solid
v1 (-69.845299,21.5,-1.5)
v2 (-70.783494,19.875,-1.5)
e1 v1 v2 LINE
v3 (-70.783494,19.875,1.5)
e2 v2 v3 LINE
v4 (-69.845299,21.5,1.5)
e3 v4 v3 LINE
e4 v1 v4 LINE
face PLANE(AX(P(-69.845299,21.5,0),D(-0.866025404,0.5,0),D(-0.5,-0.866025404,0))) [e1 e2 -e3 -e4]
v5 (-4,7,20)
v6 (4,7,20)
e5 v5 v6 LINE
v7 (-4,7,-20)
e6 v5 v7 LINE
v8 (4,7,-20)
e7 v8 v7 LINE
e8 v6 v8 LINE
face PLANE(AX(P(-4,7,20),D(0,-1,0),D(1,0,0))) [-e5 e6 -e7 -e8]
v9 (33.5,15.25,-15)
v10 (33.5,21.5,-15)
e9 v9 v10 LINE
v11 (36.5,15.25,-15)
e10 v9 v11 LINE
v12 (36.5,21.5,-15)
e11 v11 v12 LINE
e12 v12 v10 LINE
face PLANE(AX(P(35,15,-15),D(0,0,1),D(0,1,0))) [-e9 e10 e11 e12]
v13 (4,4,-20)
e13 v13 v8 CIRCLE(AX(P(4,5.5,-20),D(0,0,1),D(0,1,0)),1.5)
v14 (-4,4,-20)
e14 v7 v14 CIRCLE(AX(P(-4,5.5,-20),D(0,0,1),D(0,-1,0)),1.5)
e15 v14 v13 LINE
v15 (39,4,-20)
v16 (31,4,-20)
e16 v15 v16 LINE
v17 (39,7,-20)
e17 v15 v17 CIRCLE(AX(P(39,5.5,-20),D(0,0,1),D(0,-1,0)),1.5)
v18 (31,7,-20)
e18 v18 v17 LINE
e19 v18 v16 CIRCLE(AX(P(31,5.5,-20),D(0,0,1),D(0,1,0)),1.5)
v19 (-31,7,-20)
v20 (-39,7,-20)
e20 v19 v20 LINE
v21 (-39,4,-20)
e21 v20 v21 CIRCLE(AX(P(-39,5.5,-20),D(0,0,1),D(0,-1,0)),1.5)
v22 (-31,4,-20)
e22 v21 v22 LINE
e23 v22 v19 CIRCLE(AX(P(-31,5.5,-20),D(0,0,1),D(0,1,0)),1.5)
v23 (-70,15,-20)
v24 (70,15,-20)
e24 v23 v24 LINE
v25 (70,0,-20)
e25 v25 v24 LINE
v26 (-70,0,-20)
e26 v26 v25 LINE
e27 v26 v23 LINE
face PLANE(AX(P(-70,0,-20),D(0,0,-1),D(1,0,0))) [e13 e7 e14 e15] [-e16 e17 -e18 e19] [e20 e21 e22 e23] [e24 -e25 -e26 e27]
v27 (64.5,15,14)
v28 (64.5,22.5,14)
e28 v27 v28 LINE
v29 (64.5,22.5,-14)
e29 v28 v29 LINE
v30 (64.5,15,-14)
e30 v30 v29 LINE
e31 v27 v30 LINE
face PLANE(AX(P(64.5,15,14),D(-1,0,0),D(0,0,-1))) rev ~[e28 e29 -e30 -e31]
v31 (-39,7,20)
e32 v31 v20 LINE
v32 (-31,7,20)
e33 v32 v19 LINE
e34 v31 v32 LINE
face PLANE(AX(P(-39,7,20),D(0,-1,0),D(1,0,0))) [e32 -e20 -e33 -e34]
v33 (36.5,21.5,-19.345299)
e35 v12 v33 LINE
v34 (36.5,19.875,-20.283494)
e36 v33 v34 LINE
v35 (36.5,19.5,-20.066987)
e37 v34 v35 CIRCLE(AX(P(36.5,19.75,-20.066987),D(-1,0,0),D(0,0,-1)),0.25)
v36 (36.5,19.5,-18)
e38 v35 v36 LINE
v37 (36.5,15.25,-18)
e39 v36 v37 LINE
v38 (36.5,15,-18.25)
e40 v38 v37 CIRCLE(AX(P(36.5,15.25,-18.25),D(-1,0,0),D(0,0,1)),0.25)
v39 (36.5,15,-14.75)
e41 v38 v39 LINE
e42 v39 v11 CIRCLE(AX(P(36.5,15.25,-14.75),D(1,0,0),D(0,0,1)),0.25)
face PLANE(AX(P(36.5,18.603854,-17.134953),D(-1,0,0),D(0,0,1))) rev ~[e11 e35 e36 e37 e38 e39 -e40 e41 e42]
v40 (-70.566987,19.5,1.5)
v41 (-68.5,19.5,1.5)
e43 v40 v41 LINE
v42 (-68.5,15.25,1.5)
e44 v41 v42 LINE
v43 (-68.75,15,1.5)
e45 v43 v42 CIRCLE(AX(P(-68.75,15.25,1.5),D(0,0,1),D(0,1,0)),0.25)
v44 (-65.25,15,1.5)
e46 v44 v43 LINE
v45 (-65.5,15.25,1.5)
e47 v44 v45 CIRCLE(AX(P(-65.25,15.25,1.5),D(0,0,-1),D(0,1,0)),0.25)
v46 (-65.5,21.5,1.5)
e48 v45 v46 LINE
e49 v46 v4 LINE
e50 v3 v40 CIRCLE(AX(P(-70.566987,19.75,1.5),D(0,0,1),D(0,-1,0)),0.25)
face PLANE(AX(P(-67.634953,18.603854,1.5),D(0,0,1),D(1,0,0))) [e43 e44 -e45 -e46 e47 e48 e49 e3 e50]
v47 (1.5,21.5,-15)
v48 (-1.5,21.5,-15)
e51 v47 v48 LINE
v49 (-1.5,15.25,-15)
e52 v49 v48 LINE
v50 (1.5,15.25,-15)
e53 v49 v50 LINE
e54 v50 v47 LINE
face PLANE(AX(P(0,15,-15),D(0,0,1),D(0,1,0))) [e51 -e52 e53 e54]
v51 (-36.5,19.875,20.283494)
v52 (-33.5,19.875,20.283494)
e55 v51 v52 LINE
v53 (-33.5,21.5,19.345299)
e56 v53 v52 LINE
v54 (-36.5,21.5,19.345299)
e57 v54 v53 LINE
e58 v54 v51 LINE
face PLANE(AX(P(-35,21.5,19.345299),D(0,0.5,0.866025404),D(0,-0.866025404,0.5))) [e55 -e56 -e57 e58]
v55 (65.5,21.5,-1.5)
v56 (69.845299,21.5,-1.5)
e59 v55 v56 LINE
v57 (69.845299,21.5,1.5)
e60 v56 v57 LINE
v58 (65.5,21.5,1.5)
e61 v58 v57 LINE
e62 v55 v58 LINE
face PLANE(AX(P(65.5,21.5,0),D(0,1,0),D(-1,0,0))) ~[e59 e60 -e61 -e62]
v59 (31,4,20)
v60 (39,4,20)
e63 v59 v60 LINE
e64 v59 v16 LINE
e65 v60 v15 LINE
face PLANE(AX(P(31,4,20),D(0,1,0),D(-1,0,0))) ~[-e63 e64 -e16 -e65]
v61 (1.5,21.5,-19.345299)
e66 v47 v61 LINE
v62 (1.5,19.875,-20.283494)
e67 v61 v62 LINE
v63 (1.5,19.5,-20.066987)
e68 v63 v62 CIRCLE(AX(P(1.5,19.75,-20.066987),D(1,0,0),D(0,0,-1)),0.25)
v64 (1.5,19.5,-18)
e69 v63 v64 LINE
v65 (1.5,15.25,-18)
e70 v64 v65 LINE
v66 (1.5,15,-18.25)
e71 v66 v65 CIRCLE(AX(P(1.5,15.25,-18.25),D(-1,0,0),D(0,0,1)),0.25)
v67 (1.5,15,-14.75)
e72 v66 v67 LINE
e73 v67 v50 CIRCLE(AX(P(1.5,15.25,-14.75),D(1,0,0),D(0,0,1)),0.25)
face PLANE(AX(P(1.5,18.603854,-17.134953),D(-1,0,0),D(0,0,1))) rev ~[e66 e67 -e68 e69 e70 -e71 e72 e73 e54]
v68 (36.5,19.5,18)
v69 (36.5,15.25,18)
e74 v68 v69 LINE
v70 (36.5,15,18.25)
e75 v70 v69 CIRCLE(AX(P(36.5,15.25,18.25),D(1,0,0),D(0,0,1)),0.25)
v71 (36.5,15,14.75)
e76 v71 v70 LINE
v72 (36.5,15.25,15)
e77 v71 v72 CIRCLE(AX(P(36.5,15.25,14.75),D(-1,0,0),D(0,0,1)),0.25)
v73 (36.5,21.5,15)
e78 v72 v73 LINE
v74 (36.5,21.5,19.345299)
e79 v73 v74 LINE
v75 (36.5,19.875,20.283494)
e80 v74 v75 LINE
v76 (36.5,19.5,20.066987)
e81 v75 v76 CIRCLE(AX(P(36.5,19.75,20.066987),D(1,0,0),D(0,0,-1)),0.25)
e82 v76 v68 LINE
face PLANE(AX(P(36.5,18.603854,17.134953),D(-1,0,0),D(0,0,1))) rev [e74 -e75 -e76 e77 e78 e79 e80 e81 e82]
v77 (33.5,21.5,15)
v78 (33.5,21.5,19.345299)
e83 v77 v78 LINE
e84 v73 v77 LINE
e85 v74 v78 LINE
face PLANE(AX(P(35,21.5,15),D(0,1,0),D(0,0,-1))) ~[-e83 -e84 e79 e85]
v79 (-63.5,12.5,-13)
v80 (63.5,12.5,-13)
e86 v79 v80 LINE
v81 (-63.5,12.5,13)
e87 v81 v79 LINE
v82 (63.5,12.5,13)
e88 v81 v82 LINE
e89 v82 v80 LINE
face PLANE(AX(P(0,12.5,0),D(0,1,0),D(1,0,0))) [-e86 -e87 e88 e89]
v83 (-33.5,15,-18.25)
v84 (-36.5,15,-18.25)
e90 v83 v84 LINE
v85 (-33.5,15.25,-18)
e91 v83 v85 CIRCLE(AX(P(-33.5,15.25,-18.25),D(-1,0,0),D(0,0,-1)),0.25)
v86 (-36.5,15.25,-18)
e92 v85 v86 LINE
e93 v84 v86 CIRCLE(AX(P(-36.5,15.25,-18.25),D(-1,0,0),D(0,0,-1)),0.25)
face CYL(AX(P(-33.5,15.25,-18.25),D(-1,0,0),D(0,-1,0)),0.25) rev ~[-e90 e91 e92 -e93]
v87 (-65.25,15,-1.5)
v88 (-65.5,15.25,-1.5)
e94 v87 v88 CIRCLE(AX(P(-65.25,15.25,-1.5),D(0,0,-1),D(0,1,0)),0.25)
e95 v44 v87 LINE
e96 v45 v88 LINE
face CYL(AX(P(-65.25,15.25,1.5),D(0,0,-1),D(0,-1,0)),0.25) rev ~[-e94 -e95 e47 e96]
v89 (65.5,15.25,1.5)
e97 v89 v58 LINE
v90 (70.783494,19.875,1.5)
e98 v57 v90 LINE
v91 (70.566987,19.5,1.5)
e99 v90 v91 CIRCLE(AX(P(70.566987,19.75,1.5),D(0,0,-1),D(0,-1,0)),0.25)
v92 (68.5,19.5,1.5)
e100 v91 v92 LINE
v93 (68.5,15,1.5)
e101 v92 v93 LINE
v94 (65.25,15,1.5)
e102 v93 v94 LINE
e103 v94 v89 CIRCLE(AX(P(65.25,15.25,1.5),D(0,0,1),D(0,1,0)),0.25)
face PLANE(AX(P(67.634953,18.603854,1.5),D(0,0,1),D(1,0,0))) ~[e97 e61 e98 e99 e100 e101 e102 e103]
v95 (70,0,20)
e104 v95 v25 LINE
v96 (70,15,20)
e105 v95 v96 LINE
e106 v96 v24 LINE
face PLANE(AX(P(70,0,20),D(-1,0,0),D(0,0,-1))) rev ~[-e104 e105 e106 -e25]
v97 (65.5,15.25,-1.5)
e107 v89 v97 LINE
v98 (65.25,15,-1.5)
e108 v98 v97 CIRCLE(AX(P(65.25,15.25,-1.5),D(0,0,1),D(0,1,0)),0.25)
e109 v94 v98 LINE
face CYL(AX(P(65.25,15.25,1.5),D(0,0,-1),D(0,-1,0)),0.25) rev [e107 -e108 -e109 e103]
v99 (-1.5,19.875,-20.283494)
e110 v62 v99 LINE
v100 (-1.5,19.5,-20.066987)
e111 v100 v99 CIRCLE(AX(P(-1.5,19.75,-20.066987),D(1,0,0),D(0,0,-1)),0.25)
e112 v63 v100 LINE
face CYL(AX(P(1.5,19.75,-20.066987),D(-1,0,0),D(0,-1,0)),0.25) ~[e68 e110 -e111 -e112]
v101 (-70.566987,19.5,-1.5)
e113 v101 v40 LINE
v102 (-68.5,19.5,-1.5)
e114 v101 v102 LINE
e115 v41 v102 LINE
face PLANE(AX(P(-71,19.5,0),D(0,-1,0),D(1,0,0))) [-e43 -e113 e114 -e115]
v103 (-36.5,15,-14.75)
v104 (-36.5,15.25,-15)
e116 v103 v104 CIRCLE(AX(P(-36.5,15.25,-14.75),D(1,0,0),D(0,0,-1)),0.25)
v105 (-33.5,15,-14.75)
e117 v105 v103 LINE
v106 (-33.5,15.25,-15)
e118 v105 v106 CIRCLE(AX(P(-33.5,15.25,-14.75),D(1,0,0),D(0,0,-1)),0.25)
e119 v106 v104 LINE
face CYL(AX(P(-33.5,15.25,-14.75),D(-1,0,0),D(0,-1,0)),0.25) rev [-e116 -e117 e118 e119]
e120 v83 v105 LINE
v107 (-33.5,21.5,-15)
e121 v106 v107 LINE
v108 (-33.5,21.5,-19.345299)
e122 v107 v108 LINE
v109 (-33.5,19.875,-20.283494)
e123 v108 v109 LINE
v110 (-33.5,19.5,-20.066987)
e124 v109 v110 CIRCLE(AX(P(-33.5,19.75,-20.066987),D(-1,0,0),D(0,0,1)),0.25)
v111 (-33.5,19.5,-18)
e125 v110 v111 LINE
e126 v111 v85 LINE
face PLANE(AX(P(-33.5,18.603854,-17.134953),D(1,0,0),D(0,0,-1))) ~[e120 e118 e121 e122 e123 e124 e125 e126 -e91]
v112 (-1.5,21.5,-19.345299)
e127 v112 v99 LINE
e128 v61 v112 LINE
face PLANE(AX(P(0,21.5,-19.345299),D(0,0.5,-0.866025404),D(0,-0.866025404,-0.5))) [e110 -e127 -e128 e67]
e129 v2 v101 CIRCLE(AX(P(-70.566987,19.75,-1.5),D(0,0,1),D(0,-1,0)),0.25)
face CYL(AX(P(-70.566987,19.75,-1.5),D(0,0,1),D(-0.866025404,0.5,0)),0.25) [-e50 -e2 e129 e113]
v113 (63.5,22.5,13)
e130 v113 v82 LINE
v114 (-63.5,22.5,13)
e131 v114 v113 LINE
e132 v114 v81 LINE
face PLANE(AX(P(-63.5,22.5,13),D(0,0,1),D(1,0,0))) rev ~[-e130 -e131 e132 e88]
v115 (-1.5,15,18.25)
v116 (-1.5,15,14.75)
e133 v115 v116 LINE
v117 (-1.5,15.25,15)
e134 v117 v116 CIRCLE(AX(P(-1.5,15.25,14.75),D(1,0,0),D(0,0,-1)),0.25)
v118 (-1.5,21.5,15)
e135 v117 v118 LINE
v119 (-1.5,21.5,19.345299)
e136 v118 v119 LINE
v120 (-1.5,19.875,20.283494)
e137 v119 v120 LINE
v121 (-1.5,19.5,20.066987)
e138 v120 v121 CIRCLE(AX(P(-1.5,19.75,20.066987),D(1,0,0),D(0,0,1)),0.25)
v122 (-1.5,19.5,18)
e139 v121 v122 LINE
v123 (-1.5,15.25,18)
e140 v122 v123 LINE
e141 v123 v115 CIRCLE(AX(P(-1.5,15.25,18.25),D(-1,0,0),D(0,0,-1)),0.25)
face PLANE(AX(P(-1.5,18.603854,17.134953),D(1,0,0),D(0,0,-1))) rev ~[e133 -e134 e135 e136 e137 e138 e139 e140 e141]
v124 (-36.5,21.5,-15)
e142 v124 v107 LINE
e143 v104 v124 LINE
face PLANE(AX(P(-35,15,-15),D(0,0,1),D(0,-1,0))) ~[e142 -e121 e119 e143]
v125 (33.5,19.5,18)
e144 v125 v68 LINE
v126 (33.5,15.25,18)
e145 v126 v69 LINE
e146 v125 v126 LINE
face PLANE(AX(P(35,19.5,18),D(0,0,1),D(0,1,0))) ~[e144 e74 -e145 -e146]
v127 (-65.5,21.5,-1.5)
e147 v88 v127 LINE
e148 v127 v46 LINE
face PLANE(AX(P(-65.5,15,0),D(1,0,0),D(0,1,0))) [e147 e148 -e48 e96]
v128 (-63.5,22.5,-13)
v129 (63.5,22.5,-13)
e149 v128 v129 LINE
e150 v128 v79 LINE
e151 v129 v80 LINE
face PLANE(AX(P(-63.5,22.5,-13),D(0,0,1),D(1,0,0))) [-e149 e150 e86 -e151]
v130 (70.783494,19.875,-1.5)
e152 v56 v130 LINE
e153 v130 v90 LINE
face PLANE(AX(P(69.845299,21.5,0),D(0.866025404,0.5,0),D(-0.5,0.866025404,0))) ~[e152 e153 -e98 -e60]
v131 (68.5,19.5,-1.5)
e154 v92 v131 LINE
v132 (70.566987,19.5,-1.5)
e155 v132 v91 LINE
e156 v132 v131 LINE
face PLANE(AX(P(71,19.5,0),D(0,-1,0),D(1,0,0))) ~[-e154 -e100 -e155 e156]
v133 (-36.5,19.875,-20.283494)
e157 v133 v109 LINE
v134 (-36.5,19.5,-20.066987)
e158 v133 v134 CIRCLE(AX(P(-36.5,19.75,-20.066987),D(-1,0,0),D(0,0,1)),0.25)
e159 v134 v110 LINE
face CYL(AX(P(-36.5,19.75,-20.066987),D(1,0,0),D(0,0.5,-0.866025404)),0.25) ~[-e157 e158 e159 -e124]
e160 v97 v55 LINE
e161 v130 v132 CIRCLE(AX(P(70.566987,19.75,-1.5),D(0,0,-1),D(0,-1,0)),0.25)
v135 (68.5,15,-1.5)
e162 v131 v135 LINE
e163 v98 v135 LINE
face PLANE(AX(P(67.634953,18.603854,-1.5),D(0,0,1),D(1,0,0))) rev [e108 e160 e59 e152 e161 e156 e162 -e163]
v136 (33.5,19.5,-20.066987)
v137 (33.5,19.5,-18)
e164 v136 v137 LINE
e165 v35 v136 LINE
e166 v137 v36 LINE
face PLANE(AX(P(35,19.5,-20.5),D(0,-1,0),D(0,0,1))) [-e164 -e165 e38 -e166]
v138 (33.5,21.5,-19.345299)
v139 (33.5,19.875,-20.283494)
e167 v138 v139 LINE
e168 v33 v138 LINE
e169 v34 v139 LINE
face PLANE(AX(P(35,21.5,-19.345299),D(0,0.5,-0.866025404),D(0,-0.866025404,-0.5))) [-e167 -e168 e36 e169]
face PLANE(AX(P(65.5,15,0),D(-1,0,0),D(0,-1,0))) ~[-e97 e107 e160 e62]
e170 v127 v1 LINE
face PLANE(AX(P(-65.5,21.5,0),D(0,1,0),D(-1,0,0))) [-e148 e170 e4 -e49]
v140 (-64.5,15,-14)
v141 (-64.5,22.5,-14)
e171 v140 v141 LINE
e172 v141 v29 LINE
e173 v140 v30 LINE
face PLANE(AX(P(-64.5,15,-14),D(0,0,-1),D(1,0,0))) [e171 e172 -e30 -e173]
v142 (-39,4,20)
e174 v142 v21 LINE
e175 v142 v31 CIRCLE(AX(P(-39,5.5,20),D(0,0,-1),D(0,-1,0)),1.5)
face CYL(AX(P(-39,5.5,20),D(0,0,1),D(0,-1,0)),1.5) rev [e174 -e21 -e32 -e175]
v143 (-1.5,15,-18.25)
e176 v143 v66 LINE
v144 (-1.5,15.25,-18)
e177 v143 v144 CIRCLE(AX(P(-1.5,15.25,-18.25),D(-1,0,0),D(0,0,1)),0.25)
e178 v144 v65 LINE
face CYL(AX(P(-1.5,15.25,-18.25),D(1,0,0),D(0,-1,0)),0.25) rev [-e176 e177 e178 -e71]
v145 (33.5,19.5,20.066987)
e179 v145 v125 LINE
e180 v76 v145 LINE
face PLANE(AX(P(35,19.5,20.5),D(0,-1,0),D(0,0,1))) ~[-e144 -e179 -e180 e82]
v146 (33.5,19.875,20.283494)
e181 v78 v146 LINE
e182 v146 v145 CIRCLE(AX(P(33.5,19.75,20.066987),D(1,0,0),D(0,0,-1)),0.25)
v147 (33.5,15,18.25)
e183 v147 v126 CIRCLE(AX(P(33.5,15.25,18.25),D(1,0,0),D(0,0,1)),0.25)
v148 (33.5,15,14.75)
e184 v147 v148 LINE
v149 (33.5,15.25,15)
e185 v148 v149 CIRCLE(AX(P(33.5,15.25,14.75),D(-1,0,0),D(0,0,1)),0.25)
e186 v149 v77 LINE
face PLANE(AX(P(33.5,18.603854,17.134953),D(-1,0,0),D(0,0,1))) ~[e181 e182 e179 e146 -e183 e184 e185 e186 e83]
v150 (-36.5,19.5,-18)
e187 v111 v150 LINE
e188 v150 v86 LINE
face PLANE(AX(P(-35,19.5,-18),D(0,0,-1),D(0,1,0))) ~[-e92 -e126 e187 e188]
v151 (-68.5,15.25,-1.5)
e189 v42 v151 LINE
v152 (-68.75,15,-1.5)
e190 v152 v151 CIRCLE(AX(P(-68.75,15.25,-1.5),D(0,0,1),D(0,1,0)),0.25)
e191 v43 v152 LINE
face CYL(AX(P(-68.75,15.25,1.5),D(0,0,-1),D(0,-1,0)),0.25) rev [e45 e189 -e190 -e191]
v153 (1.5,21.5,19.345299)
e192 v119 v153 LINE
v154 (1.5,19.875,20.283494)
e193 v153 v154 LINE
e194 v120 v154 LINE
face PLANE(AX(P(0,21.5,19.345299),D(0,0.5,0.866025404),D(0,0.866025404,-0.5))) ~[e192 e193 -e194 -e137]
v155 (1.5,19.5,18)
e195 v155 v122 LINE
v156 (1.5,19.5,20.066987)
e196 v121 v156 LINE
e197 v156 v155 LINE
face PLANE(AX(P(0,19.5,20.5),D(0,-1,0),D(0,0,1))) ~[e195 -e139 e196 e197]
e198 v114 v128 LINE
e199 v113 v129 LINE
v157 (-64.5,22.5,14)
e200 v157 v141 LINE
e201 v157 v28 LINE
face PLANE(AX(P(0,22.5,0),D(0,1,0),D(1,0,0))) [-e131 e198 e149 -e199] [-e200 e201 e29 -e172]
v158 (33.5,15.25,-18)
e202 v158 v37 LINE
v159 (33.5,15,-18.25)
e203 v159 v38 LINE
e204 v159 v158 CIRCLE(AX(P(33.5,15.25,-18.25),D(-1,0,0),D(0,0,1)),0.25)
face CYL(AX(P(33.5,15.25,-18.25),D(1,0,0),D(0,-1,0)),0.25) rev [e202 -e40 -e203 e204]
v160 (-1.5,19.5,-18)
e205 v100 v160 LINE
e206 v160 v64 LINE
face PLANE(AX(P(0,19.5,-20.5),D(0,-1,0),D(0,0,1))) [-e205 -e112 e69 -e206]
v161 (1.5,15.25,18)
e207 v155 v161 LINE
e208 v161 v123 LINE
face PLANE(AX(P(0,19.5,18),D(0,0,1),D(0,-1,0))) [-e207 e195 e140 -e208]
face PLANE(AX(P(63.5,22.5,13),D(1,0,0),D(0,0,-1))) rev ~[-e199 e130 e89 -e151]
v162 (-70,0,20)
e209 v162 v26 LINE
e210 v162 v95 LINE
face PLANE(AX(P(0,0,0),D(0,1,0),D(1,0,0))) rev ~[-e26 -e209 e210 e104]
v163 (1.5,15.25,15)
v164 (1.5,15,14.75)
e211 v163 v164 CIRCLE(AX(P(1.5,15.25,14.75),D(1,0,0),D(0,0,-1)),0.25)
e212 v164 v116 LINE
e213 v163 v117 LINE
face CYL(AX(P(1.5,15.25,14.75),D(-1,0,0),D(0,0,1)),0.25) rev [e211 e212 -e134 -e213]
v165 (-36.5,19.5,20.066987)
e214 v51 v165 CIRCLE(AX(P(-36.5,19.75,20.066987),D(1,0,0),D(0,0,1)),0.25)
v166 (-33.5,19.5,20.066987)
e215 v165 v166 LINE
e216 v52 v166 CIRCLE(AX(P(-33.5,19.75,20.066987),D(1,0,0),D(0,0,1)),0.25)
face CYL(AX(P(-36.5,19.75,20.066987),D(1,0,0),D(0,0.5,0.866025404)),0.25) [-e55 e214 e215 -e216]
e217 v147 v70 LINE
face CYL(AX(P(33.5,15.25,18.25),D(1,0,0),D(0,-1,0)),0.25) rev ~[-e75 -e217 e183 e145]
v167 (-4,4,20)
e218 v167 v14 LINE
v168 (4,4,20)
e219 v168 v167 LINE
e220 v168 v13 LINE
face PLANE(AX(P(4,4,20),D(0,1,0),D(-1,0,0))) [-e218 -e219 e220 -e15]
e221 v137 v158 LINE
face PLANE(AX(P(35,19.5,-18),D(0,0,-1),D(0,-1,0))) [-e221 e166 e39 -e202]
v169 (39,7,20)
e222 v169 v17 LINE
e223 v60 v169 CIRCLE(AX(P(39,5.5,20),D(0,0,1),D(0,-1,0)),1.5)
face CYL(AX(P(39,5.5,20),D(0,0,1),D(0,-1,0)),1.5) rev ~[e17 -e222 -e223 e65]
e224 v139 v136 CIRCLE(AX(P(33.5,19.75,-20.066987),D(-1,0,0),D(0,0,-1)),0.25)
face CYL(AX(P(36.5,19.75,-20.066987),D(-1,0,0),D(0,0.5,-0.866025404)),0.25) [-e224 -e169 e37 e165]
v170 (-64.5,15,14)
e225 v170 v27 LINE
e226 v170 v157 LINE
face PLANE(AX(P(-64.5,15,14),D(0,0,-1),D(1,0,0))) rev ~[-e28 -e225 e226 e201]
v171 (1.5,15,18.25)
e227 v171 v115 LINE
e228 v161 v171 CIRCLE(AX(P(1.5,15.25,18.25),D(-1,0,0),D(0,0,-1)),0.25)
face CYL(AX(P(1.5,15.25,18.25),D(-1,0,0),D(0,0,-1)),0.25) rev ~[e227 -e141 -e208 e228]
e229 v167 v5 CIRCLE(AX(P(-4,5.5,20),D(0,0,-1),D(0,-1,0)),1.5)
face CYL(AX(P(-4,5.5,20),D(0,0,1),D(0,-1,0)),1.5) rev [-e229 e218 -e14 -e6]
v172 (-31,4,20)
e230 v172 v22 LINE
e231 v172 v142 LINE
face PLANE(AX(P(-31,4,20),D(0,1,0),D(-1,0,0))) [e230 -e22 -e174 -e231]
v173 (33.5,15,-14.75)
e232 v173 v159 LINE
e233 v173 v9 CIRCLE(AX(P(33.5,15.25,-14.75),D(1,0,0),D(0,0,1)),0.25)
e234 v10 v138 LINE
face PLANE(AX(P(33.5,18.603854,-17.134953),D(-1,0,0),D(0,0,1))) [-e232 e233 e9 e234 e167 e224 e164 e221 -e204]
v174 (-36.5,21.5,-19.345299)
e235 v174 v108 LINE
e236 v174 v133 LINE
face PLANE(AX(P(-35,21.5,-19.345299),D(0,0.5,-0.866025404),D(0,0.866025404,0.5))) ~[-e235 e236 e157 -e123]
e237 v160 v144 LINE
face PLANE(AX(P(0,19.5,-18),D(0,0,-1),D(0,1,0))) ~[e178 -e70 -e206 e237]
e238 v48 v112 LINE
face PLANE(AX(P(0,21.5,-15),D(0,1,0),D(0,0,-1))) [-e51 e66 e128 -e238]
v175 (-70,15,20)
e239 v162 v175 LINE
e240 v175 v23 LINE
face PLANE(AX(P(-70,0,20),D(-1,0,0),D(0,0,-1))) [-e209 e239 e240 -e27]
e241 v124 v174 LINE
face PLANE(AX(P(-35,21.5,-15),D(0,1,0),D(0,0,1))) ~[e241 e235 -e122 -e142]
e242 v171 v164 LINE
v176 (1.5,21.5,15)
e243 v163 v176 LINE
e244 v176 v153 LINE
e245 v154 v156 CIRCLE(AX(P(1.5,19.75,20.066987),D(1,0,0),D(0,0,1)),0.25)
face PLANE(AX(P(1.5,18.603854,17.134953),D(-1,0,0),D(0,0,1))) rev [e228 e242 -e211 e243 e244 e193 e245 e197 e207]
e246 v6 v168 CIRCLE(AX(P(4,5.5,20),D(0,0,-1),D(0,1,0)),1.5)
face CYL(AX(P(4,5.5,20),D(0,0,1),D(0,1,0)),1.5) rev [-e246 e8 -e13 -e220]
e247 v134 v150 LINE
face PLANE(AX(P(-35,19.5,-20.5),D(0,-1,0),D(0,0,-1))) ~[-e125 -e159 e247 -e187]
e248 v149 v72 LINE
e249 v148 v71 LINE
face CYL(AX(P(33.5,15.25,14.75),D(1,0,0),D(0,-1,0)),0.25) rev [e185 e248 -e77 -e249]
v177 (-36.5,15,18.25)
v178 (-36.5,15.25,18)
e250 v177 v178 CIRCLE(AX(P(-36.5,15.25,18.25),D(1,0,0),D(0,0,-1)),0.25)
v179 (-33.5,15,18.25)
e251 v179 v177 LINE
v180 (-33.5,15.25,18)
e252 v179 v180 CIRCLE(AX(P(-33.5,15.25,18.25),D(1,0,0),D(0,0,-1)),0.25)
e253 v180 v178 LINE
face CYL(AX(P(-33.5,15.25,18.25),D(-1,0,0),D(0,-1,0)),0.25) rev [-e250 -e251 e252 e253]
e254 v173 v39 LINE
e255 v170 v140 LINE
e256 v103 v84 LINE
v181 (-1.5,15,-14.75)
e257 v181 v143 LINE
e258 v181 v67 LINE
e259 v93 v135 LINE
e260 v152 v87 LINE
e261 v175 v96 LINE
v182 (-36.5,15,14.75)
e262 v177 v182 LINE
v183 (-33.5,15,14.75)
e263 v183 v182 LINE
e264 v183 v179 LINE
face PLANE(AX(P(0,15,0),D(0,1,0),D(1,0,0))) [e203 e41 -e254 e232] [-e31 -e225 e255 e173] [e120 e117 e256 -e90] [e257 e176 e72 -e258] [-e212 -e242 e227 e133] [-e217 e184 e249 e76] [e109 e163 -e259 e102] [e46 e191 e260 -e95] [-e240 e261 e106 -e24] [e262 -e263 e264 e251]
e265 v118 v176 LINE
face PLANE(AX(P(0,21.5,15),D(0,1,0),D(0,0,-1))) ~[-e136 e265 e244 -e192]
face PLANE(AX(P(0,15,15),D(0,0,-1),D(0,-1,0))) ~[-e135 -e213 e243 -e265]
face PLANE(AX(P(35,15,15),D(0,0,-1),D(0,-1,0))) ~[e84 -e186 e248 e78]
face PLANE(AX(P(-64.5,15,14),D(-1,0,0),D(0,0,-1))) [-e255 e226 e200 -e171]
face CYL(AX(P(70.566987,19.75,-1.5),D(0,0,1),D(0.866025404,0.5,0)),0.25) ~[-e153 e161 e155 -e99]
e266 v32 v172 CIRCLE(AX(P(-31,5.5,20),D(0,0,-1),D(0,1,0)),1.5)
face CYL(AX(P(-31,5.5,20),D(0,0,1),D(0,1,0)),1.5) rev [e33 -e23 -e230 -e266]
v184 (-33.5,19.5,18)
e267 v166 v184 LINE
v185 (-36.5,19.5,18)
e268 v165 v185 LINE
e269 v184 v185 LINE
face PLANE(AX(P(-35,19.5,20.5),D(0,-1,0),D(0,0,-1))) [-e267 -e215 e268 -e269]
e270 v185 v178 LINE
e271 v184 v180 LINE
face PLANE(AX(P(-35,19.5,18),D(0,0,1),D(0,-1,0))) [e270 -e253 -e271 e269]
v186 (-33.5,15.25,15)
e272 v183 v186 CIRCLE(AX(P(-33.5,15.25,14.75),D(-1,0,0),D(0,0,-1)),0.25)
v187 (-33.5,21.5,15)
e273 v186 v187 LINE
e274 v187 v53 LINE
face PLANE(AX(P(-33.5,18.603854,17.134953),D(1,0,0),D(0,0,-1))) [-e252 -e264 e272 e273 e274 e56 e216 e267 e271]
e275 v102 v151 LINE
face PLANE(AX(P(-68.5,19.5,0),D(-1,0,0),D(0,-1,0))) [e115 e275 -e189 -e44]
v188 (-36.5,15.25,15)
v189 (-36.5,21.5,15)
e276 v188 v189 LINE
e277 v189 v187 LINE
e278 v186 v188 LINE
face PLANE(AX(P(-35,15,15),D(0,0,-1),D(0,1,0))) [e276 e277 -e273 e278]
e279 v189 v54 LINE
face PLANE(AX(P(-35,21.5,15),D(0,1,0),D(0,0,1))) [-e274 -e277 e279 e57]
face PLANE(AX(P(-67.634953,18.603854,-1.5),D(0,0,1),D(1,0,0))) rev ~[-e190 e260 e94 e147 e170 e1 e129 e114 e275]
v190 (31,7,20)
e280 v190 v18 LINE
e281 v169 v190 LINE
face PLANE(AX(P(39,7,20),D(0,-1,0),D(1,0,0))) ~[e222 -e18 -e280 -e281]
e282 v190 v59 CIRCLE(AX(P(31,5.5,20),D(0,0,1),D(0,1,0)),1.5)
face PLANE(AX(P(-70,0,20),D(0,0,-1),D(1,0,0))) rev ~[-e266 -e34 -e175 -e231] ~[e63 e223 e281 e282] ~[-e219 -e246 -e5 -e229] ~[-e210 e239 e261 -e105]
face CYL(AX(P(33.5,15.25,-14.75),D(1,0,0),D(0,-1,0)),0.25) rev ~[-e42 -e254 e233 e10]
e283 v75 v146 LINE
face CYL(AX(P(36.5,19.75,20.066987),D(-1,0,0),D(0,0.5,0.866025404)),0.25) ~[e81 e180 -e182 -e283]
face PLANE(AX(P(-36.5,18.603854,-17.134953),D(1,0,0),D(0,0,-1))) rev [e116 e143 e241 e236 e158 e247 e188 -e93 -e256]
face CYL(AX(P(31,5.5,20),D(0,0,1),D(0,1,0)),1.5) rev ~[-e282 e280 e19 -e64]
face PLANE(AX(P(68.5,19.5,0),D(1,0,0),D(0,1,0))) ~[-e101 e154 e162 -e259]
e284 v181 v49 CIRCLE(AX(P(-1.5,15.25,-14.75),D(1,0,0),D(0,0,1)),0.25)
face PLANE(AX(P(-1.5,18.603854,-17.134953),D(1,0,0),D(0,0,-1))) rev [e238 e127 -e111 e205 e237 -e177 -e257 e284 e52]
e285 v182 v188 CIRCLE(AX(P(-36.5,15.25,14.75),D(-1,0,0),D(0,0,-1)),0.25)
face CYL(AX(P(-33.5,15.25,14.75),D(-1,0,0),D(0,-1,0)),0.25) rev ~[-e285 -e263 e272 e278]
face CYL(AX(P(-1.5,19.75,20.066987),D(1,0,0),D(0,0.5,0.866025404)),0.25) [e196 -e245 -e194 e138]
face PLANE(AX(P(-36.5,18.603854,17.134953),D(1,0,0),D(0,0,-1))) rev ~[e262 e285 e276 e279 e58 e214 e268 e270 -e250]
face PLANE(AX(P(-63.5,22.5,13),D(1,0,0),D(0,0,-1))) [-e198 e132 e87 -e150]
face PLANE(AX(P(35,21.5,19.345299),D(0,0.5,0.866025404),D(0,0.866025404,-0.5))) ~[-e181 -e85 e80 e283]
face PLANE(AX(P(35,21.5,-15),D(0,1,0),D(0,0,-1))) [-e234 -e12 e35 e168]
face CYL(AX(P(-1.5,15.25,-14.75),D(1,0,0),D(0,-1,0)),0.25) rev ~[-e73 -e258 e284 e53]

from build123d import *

# Parameters (mm, degrees)
SKETCH1_W             = 140
SKETCH1_H             = 40
BOSS_EXTRUDE1_DEPTH   = 15
BOSS_EXTRUDE2_DEPTH   = 1.5
BOSS_EXTRUDE3_DEPTH   = 1.5
BOSS_EXTRUDE4_DEPTH   = 1.5
FILLET2_R             = 0.25
MIRROR10_COPY_1_DEPTH = 1.5
MIRROR11_COPY_1_DEPTH = 1.5
MIRROR11_COPY_2_DEPTH = 1.5
MIRROR11_COPY_3_DEPTH = 1.5
MIRROR11_COPY_4_DEPTH = 1.5
SKETCH2_W             = 129
SKETCH2_H             = 28
BOSS_EXTRUDE5_DEPTH   = 7.5
SKETCH8_W             = 127
SKETCH8_H             = 26
CUT_EXTRUDE1_DEPTH    = 10
CUT_EXTRUDE2_DEPTH    = 41.5
CUT_EXTRUDE3_DEPTH    = 41.5
FILLET3_R             = 0.25
FILLET4_R             = 0.25


with BuildPart() as part:
    # Sketch1 → Boss-Extrude1 (new body)
    with BuildSketch(Plane(origin=(0, 0, 0), x_dir=(1, 0, 0), z_dir=(0, 1, 0))):
        Rectangle(SKETCH1_W, SKETCH1_H)
    extrude(amount=BOSS_EXTRUDE1_DEPTH)

    # Sketch3 → Boss-Extrude2 (add, symmetric)
    with BuildSketch(Plane.XY):
        Polygon((-65.5, 15), (-65.5, 21.5), (-69.845299462, 21.5), (-71, 19.5), (-68.5, 19.5), (-68.5, 15), align=None)
    boss_extrude2 = extrude(amount=BOSS_EXTRUDE2_DEPTH, both=True)

    # Sketch6 → Boss-Extrude3 (add)
    with BuildSketch(Plane(origin=(0, 0, 0), x_dir=(0, 0, -1), z_dir=(1, 0, 0))):
        Polygon((-15, 15), (-15, 21.5), (-19.345299462, 21.5), (-20.5, 19.5), (-18, 19.5), (-18, 15), align=None)
    boss_extrude3 = extrude(amount=-BOSS_EXTRUDE3_DEPTH)

    # Sketch7 → Boss-Extrude4 (add, symmetric)
    with BuildSketch(Plane(origin=(-35, 0, 0), x_dir=(0, 0, -1), z_dir=(1, 0, 0))):
        Polygon((-15, 15), (-15, 21.5), (-19.345299462, 21.5), (-20.5, 19.5), (-18, 19.5), (-18, 15), align=None)
    boss_extrude4 = extrude(amount=BOSS_EXTRUDE4_DEPTH, both=True)

    # Fillet2
    fillet2_edges = [part.edges().sort_by_distance(p)[0] for p in [
        (-71, 19.5, 0),
    ]]
    fillet(fillet2_edges, radius=FILLET2_R)

    # Mirror9: Boss-Extrude3 across plane
    add(boss_extrude3.mirror(Plane(origin=(0, 0, 0), x_dir=(0, 0, 1), z_dir=(1, 0, 0))))

    # Mirror10: Boss-Extrude4, Boss-Extrude3 across plane
    add(boss_extrude4.mirror(Plane.XY))
    add(boss_extrude3.mirror(Plane.XY))

    # Mirror10 copy 1 sketch → Mirror10 copy 1 (add)
    with BuildSketch(Plane.ZY):
        Polygon((-15, 15), (-15, 21.5), (-19.345299462, 21.5), (-20.5, 19.5), (-18, 19.5), (-18, 15), align=None)
    extrude(amount=-MIRROR10_COPY_1_DEPTH)

    # Mirror11: Boss-Extrude2, Boss-Extrude4 across plane
    add(boss_extrude2.mirror(Plane(origin=(0, 0, 0), x_dir=(0, 0, 1), z_dir=(1, 0, 0))))
    add(boss_extrude4.mirror(Plane(origin=(0, 0, 0), x_dir=(0, 0, 1), z_dir=(1, 0, 0))))

    # Mirror11 copy 1 sketch → Mirror11 copy 1 (add, symmetric)
    with BuildSketch(Plane.ZY.offset(-35)):
        Polygon((-15, 15), (-15, 21.5), (-19.345299462, 21.5), (-20.5, 19.5), (-18, 19.5), (-18, 15), align=None)
    extrude(amount=MIRROR11_COPY_1_DEPTH, both=True)

    # Mirror11 copy 2 sketch → Mirror11 copy 2 (add)
    with BuildSketch(Plane.ZY):
        Polygon((-15, 15), (-15, 21.5), (-19.345299462, 21.5), (-20.5, 19.5), (-18, 19.5), (-18, 15), align=None)
    extrude(amount=-MIRROR11_COPY_2_DEPTH)

    # Mirror11 copy 3 sketch → Mirror11 copy 3 (add)
    with BuildSketch(Plane(origin=(0, 0, 0), x_dir=(0, 0, 1), z_dir=(1, 0, 0))):
        Polygon((-15, -15), (-15, -21.5), (-19.345299462, -21.5), (-20.5, -19.5), (-18, -19.5), (-18, -15), align=None)
    extrude(amount=-MIRROR11_COPY_3_DEPTH)

    # Mirror11 copy 4 sketch → Mirror11 copy 4 (add)
    with BuildSketch(Plane(origin=(0, 0, 0), x_dir=(0, 0, -1), z_dir=(-1, 0, 0))):
        Polygon((-15, -15), (-15, -21.5), (-19.345299462, -21.5), (-20.5, -19.5), (-18, -19.5), (-18, -15), align=None)
    extrude(amount=-MIRROR11_COPY_4_DEPTH)

    # Sketch2 → Boss-Extrude5 (add)
    with BuildSketch(Plane(origin=(0, 15, 0), x_dir=(1, 0, 0), z_dir=(0, 1, 0))):
        Rectangle(SKETCH2_W, SKETCH2_H)
    extrude(amount=BOSS_EXTRUDE5_DEPTH)

    # Sketch8 → Cut-Extrude1 (cut)
    with BuildSketch(Plane(origin=(0, 22.5, 0), x_dir=(1, 0, 0), z_dir=(0, 1, 0))):
        Rectangle(SKETCH8_W, SKETCH8_H)
    extrude(amount=-CUT_EXTRUDE1_DEPTH, mode=Mode.SUBTRACT)

    # Sketch9 → Cut-Extrude2 (cut, through all)
    with BuildSketch(Plane.XY.offset(20)):
        with BuildLine():
            Line((-4, 7), (4, 7))
            ThreePointArc((4, 7), (5.5, 5.5), (4, 4))
            Line((4, 4), (-4, 4))
            ThreePointArc((-4, 4), (-5.5, 5.5), (-4, 7))
        make_face()
    extrude(amount=-CUT_EXTRUDE2_DEPTH, mode=Mode.SUBTRACT)

    # Sketch10 → Cut-Extrude3 (cut, through all)
    with BuildSketch(Plane.XY.offset(20)):
        with BuildLine():
            Line((-39, 7), (-31, 7))
            ThreePointArc((-31, 7), (-29.5, 5.5), (-31, 4))
            Line((-31, 4), (-39, 4))
            ThreePointArc((-39, 4), (-40.5, 5.5), (-39, 7))
        make_face()
    cut_extrude3 = extrude(amount=-CUT_EXTRUDE3_DEPTH, mode=Mode.SUBTRACT)

    # Mirror12: Cut-Extrude3 across plane
    add(cut_extrude3.mirror(Plane(origin=(0, 0, 0), x_dir=(0, 0, 1), z_dir=(1, 0, 0))), mode=Mode.SUBTRACT)

    # Fillet3
    fillet3_edges = [part.edges().sort_by_distance(p)[0] for p in [
        (0, 19.5, -20.5),
        (71, 19.5, 0),
        (35, 19.5, -20.5),
        (35, 19.5, 20.5),
        (0, 19.5, 20.5),
        (-35, 19.5, 20.5),
        (-35, 19.5, -20.5),
    ]]
    fillet(fillet3_edges, radius=FILLET3_R)

    # Fillet4
    fillet4_edges = [part.edges().sort_by_distance(p)[0] for p in [
        (0, 15, -15),
        (0, 15, -18),
        (65.5, 15, 0),
        (35, 15, -15),
        (35, 15, -18),
        (-65.5, 15, 0),
        (-68.5, 15, 0),
        (35, 15, 18),
        (35, 15, 15),
        (0, 15, 15),
        (0, 15, 18),
        (-35, 15, 15),
        (-35, 15, 18),
        (-35, 15, -18),
        (-35, 15, -15),
    ]]
    fillet(fillet4_edges, radius=FILLET4_R)


solid = part.part
